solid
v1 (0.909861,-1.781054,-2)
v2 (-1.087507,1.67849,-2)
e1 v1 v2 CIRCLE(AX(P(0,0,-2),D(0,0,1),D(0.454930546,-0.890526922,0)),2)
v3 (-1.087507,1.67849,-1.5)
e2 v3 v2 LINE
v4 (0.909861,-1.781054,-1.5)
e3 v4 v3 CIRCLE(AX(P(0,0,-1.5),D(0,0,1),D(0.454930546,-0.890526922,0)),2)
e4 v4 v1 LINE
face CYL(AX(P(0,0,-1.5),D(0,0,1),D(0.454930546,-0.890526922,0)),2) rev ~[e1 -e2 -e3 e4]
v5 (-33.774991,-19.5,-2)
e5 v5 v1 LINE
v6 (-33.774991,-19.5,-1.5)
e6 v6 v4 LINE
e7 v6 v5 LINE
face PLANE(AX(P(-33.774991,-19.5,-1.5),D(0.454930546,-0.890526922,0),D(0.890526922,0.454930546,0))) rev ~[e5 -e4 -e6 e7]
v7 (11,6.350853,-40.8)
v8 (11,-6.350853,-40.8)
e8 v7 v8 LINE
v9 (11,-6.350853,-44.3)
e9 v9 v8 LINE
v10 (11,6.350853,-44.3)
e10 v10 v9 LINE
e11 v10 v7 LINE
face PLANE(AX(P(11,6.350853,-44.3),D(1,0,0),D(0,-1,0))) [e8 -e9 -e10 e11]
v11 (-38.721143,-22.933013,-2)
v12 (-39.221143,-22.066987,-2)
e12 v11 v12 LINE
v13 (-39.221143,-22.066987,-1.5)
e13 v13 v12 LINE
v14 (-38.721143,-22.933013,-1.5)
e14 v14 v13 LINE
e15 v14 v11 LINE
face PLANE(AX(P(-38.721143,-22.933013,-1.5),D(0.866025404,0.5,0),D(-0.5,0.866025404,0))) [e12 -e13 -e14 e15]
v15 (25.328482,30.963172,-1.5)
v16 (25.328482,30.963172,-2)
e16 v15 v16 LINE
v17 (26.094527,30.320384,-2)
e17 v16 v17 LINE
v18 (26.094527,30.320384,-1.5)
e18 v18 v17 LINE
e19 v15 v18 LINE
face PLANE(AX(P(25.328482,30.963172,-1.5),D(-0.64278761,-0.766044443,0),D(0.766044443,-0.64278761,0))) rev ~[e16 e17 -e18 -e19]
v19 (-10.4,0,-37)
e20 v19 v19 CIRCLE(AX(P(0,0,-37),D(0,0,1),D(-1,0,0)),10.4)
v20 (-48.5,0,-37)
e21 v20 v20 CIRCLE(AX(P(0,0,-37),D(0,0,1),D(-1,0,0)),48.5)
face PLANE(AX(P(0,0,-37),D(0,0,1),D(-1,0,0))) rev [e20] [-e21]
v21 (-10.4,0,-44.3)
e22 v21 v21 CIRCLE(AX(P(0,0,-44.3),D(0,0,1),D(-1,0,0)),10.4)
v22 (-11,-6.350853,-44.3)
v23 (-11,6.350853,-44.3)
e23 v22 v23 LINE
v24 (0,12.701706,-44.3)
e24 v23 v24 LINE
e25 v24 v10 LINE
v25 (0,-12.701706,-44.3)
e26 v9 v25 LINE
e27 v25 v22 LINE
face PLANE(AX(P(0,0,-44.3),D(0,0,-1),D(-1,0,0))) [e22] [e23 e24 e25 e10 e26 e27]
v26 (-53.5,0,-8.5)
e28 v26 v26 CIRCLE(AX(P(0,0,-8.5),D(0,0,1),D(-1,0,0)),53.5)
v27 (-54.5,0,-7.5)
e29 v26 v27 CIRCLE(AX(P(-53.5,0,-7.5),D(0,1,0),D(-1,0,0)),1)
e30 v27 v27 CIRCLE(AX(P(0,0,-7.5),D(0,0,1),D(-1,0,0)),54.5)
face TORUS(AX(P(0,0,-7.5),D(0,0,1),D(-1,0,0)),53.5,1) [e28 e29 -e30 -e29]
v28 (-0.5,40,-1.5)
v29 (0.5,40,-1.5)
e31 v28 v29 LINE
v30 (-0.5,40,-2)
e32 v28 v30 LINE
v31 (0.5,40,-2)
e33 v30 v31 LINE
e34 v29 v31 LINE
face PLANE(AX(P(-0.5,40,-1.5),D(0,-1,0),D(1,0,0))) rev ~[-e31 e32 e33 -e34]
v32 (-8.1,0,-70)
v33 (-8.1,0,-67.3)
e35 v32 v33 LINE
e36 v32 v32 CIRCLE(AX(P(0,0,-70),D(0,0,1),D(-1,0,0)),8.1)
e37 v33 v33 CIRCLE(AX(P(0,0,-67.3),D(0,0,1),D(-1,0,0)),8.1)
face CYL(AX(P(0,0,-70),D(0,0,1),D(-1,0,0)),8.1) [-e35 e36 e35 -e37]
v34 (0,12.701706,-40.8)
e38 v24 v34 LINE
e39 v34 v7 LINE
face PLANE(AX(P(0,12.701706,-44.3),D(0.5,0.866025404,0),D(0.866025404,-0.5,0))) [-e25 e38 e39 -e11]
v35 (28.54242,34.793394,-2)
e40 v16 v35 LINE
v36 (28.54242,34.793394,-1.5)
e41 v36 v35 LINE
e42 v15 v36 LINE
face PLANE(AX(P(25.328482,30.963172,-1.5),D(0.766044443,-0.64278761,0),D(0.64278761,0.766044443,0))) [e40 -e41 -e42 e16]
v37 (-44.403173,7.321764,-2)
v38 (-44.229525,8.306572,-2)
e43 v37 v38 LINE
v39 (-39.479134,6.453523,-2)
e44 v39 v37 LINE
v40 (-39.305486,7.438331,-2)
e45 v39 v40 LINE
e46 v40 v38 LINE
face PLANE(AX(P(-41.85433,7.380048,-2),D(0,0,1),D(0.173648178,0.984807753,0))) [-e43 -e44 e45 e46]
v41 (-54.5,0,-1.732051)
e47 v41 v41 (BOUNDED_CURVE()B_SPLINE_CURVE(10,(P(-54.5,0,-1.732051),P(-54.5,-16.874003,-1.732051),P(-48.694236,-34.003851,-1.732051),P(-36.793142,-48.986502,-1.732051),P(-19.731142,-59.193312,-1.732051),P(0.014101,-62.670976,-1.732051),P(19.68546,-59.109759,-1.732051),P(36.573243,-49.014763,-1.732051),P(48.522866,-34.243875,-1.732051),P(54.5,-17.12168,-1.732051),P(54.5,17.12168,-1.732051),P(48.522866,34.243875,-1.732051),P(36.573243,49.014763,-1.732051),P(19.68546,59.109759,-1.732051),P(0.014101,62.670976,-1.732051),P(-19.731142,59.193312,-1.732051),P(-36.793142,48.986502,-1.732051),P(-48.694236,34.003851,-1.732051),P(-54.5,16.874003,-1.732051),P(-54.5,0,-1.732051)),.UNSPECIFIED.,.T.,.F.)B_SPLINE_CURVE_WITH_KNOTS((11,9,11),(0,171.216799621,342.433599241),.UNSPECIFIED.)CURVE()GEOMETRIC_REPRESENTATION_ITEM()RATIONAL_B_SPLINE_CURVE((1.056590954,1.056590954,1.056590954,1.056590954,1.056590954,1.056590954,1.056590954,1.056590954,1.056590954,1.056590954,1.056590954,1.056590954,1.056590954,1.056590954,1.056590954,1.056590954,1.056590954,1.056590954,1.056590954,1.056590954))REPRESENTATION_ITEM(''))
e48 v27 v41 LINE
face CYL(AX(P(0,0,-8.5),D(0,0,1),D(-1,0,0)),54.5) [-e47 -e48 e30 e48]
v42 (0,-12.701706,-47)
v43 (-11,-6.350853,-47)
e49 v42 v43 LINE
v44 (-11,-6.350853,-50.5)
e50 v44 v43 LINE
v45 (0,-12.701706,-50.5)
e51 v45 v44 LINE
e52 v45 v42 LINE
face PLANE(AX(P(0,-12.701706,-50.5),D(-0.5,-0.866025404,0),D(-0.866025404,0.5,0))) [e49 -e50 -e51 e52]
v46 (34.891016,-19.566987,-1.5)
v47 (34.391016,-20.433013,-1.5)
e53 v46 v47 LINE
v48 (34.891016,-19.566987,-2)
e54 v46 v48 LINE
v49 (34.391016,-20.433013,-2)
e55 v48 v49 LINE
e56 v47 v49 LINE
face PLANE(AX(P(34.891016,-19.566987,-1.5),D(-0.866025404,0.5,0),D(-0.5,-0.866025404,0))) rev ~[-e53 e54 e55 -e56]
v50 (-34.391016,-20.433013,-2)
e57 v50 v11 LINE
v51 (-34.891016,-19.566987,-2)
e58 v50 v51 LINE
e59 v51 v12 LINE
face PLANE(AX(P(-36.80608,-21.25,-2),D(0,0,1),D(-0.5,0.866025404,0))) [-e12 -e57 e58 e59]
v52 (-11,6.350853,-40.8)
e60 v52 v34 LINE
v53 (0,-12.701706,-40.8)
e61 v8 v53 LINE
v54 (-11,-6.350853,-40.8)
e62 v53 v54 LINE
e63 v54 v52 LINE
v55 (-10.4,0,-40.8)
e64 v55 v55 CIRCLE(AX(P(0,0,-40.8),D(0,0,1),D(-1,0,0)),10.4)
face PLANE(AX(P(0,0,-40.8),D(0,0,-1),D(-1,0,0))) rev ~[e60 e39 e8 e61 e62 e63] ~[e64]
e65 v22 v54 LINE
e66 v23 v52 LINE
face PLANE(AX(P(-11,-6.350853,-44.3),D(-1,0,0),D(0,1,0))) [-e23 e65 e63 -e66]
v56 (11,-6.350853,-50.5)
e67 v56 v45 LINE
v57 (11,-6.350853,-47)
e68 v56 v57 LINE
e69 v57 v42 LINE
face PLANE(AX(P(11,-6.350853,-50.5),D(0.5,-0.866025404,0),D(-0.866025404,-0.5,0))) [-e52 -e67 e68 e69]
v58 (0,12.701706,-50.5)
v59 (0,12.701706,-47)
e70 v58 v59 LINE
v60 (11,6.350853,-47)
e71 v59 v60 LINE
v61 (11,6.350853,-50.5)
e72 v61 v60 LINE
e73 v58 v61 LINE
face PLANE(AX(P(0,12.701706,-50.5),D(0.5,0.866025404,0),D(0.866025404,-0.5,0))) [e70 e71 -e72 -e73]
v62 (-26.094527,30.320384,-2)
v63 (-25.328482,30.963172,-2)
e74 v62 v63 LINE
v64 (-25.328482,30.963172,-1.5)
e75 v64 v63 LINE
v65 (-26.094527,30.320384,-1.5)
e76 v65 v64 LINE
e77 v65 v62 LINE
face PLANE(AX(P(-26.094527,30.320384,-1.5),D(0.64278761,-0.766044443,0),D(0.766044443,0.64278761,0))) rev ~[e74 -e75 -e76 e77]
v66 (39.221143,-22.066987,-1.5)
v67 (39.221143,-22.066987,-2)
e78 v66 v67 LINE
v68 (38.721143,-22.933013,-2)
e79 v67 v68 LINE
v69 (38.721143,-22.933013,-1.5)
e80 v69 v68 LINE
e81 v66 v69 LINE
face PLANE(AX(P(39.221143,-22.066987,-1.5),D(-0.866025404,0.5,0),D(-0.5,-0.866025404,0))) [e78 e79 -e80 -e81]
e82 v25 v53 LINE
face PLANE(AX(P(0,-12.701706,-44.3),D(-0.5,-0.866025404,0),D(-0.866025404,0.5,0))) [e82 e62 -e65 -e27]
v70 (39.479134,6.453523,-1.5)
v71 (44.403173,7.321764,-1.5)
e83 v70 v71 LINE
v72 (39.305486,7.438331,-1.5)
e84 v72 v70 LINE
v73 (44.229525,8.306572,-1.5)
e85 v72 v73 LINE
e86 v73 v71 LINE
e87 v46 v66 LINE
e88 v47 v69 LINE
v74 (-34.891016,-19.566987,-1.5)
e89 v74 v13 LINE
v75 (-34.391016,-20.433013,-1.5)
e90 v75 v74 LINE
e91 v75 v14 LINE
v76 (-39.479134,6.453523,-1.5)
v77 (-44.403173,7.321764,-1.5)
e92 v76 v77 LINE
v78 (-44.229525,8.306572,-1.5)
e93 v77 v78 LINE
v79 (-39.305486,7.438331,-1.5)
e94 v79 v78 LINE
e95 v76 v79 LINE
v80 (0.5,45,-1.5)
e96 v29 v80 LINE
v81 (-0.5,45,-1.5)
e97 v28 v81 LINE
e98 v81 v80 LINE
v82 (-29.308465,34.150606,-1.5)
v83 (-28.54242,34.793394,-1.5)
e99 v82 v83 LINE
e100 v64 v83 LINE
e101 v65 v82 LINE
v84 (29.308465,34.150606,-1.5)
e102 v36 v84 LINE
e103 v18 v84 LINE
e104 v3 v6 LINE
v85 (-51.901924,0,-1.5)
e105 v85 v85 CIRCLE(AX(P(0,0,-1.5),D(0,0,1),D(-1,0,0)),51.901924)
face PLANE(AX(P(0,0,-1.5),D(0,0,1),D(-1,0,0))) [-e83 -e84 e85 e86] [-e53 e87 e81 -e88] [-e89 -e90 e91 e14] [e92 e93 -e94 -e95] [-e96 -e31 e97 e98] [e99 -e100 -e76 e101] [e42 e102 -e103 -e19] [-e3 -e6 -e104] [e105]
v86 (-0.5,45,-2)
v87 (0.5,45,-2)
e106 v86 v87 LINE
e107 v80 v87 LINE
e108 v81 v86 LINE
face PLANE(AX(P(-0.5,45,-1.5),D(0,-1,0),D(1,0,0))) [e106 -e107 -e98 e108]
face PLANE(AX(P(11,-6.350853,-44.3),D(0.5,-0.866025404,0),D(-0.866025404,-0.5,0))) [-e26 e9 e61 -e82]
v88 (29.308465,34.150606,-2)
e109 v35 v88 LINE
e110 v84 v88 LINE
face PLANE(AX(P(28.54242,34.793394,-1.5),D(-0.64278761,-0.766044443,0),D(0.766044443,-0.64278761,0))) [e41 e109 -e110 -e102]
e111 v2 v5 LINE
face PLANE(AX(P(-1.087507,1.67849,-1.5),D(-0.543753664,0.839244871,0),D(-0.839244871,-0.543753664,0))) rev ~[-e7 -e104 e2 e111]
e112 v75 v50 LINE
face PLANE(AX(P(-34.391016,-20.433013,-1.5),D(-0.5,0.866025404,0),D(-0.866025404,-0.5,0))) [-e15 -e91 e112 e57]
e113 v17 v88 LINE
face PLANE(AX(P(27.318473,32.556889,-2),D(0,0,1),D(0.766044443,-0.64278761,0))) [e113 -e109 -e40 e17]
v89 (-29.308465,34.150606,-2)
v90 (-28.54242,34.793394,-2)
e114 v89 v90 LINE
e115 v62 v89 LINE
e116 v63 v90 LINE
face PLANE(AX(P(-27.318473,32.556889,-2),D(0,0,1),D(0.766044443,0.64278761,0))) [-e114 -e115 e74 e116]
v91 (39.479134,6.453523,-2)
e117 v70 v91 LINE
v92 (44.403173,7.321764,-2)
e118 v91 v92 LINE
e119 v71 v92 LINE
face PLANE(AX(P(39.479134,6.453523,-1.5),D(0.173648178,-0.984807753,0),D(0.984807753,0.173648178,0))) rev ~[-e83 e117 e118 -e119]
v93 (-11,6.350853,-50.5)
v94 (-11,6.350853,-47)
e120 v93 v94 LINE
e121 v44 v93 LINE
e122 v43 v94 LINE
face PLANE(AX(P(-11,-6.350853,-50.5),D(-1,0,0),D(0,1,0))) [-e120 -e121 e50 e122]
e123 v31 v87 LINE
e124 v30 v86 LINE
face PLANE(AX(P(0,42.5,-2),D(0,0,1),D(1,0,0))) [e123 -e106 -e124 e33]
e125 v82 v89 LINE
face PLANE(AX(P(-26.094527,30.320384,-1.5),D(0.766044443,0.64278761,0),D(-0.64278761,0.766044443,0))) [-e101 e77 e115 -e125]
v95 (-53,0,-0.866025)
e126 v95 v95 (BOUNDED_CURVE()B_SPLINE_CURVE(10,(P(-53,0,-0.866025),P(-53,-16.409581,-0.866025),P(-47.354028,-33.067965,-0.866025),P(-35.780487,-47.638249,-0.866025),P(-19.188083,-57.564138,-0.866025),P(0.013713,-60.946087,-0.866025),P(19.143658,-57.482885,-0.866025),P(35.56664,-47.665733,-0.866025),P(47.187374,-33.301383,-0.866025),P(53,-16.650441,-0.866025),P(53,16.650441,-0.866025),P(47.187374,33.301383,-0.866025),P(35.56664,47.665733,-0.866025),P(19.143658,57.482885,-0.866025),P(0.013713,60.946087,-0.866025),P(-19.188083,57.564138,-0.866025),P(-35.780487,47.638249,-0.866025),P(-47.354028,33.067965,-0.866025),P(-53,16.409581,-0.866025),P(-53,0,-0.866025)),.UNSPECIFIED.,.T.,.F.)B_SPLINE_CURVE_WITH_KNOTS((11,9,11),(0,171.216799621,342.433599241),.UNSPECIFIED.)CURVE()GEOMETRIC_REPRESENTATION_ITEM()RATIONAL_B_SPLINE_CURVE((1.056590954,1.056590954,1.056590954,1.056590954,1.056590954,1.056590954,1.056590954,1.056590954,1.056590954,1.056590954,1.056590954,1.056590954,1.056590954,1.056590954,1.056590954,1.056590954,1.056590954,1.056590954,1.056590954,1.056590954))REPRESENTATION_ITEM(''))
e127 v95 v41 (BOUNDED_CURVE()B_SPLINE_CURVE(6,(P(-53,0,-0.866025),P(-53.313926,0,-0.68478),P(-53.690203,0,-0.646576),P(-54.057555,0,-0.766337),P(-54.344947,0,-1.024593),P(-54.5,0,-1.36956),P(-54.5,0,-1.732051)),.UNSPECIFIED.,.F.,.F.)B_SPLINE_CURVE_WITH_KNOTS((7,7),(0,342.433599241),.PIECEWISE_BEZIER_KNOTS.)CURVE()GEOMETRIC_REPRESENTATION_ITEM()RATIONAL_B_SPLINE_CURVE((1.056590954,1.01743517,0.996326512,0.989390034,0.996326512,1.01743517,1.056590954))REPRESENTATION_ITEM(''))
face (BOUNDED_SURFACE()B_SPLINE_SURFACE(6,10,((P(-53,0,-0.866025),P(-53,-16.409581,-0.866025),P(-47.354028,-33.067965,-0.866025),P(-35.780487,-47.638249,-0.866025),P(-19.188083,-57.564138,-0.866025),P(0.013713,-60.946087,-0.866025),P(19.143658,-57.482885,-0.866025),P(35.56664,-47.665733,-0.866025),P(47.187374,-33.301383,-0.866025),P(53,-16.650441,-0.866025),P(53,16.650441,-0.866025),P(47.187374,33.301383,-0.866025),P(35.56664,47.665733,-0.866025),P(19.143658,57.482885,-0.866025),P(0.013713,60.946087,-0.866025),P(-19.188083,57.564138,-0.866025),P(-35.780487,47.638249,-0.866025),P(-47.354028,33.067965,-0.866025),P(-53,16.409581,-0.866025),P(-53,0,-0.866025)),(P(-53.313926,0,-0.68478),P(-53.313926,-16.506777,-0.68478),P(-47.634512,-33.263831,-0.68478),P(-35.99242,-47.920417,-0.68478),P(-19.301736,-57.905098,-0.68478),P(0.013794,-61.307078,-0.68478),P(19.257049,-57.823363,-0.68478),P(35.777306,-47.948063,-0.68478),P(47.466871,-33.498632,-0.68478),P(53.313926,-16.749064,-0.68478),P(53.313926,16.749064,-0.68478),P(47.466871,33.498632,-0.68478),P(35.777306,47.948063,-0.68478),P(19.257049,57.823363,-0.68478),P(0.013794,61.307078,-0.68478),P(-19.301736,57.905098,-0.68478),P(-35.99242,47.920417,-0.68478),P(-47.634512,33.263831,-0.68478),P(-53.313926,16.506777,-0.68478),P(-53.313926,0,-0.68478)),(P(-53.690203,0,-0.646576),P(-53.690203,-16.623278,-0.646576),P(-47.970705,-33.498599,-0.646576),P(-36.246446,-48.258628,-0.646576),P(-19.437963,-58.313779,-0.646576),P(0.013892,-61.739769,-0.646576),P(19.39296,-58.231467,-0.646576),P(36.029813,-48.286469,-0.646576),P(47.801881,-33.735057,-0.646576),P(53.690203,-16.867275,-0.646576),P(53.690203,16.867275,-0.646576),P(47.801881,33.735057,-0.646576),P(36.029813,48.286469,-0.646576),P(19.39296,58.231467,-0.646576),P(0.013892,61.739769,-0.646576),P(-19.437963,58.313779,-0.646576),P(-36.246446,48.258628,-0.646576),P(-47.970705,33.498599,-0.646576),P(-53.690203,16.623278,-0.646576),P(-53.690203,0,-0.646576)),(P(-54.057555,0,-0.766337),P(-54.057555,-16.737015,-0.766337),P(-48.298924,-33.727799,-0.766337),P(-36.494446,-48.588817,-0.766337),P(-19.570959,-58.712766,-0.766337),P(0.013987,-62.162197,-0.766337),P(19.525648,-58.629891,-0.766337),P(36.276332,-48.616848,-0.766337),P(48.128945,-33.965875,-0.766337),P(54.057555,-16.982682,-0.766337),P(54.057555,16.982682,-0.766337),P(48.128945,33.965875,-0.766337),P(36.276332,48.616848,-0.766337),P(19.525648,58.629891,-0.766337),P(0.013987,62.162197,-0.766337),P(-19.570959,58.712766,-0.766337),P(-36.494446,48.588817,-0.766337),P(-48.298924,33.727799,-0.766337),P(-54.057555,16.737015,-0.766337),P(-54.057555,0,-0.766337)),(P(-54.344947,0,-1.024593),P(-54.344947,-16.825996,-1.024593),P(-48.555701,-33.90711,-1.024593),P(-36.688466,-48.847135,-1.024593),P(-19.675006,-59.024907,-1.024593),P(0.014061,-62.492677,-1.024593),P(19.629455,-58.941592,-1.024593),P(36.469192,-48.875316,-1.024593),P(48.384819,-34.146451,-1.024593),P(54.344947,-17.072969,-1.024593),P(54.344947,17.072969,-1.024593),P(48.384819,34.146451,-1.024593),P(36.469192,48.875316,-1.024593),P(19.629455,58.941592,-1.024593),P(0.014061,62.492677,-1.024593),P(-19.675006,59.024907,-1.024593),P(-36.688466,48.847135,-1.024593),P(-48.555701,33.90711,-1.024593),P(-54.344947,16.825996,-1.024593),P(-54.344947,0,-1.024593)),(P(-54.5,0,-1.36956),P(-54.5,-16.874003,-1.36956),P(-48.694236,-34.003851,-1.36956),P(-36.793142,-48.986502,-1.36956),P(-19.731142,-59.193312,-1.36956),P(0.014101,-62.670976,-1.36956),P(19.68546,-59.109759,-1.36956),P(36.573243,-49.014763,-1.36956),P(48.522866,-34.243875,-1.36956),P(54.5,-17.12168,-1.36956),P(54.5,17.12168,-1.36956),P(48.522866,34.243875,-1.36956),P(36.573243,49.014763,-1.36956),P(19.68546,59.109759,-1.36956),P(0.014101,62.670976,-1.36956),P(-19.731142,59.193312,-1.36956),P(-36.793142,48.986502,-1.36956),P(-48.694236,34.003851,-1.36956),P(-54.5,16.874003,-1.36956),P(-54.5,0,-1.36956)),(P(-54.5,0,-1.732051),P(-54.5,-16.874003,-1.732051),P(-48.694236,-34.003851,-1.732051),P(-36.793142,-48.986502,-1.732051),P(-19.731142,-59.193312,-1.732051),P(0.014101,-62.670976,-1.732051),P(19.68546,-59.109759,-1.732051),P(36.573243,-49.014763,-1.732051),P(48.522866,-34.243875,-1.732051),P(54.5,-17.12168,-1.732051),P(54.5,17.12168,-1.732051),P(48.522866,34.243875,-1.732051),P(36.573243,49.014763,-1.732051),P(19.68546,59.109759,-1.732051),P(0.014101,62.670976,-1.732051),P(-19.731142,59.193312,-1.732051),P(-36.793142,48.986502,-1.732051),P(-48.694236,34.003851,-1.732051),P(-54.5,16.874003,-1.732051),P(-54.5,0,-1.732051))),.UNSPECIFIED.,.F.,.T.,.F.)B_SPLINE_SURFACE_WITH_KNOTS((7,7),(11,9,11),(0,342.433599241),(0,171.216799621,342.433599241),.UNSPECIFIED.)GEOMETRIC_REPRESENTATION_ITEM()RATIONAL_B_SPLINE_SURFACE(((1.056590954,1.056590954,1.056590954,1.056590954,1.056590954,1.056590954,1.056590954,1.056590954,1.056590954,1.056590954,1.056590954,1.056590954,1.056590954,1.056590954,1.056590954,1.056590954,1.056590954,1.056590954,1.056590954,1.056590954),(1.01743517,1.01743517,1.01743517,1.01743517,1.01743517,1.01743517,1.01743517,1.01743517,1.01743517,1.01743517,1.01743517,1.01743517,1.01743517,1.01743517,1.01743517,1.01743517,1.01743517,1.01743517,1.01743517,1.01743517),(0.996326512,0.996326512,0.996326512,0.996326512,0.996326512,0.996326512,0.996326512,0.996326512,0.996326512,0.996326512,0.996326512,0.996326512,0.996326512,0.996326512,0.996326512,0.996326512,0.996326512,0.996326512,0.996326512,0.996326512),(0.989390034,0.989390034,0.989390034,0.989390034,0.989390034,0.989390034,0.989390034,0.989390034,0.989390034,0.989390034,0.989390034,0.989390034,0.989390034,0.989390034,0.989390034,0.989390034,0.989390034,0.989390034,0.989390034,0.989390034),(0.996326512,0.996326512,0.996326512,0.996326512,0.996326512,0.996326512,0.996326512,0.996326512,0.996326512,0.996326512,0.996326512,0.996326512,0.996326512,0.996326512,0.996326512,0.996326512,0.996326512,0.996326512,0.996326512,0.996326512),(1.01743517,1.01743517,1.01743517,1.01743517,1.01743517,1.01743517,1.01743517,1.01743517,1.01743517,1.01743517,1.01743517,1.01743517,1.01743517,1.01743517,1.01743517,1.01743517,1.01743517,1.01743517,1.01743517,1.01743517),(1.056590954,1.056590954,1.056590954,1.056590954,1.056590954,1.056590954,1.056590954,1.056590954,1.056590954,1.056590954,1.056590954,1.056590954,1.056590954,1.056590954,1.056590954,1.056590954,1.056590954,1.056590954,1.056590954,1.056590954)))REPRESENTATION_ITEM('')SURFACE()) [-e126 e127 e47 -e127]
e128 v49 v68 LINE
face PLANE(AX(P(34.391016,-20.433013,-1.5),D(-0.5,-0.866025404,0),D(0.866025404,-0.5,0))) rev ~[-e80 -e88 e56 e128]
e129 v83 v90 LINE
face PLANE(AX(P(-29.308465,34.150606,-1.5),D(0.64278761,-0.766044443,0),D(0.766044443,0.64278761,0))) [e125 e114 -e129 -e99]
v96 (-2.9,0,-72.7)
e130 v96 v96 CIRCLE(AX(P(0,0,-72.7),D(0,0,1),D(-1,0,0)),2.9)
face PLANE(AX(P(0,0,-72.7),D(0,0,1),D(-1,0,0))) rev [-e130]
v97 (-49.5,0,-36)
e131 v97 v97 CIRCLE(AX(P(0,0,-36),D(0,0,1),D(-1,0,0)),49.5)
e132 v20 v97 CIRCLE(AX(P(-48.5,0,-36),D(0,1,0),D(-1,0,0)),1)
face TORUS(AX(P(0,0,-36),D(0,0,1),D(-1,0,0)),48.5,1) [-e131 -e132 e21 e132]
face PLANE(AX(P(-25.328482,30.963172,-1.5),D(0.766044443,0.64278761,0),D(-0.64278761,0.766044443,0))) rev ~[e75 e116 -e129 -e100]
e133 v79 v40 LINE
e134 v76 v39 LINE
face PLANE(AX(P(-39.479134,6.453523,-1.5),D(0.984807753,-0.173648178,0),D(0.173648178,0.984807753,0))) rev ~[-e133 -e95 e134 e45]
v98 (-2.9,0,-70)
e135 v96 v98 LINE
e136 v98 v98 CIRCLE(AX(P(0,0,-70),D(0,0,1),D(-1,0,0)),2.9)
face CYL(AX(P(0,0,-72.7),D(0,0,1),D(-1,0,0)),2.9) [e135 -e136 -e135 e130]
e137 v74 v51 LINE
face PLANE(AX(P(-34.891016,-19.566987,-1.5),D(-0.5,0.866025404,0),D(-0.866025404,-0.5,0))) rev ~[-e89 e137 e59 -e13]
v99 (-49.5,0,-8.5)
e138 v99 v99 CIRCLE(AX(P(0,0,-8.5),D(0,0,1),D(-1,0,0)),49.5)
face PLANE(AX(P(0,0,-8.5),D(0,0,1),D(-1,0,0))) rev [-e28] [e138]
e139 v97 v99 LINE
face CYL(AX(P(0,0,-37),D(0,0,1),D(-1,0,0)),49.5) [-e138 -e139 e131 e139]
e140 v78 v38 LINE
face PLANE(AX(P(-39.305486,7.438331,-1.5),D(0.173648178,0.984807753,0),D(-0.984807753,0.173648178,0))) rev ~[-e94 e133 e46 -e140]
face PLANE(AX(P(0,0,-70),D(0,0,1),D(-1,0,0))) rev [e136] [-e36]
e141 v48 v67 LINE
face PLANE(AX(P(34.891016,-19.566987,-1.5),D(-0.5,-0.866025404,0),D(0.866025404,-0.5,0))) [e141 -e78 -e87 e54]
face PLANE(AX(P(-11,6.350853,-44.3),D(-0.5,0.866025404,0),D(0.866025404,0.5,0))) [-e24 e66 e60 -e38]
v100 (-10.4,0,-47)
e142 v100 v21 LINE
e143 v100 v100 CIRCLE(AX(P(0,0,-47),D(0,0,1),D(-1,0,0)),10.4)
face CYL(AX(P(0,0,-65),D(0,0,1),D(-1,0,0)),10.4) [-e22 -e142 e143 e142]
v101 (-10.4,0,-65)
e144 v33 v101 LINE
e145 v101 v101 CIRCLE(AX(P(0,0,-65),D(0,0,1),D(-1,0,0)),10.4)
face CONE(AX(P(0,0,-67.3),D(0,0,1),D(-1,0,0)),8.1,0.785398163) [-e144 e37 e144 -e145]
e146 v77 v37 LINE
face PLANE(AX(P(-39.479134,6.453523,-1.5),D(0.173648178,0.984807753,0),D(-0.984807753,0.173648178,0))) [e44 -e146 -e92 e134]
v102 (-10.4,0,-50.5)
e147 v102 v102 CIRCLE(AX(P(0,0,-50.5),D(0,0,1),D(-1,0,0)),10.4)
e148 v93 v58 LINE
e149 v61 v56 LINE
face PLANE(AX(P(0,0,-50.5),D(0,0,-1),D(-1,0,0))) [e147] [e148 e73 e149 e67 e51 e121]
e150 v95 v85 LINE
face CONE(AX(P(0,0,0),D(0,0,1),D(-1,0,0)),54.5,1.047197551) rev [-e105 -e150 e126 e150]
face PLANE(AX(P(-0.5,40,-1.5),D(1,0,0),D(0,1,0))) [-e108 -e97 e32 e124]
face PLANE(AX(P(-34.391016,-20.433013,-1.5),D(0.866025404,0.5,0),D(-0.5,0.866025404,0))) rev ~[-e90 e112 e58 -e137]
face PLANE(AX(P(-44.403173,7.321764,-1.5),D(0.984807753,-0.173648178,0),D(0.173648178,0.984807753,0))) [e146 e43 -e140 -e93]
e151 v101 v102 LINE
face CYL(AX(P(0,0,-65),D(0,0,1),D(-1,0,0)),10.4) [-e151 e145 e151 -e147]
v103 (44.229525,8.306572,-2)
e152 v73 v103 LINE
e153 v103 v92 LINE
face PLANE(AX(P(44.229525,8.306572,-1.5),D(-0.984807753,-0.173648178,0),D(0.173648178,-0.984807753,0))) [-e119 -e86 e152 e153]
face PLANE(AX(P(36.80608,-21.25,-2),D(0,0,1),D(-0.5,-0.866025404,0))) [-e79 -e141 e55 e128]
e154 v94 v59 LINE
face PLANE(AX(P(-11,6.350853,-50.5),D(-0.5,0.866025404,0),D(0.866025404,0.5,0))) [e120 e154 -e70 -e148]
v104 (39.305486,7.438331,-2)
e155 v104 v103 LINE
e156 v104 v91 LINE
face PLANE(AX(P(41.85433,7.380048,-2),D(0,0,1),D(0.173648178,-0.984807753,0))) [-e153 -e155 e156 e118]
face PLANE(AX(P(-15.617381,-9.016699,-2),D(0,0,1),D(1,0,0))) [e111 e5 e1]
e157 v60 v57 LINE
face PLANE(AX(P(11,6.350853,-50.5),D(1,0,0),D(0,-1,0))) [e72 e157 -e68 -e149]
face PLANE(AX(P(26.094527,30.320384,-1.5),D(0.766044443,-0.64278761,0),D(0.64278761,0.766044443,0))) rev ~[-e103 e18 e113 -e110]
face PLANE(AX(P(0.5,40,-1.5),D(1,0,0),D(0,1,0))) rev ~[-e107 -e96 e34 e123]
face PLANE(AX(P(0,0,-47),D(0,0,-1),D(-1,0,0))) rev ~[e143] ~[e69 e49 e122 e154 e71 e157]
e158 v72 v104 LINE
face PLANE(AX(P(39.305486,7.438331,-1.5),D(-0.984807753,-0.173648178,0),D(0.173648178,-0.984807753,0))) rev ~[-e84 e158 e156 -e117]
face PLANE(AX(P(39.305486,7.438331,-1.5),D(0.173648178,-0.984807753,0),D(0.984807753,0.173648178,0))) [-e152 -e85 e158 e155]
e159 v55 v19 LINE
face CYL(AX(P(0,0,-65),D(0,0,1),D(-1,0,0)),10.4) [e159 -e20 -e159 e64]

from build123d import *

# Parameters (mm, degrees)
ZAOBLIT1_R               = 1
SKICA2_W                 = 1
SKICA2_H                 = 5
ODEBRAT_VYSUNUT_M1_DEPTH = 0.5
KRUHOV_POLE1_COUNT       = 9
ODEBRAT_VYSUNUT_M2_DEPTH = 0.5
P_IDAT_START             = 13.5
P_IDAT_VYSUNUT_M1_DEPTH  = 3.5
LINPOLE1_COUNT           = 2
LINPOLE1_PITCH           = 6.2


with BuildPart() as part:
    # Skica1 → Rotovat1 (revolve)
    with BuildSketch(Plane(origin=(0, 0, 0), x_dir=(0, 0, -1), z_dir=(1, 0, 0)), mode=Mode.PRIVATE) as rotovat1_sk:
        Polygon((0, 54.5), (1.5, 51.901923789), (1.5, 0), (72.7, 0), (72.7, 2.9), (70, 2.9), (70, 8.1), (67.3, 8.1), (65, 10.4), (37, 10.4), (37, 49.5), (8.5, 49.5), (8.5, 54.5), align=None)
    revolve(rotovat1_sk.sketch.rotate(Axis((0, 0, 0), (0, 0, 1)), 90), axis=Axis((0, 0, 0), (0, 0, 1)))  # turned: the seam where the file's is

    # Zaoblit1
    zaoblit1_edges = [part.edges().sort_by_distance(p)[0] for p in [
        (49.5, 0, -37),
        (54.5, 0, -8.5),
        (54.5, 0, 0),
    ]]
    fillet(zaoblit1_edges, radius=ZAOBLIT1_R)

    # Skica2 → Odebrat vysunutím1 (cut)
    with BuildSketch(Plane.XY.offset(-1.5)):
        with Locations((0, 42.5)):
            Rectangle(SKICA2_W, SKICA2_H)
    odebrat_vysunut_m1 = extrude(amount=-ODEBRAT_VYSUNUT_M1_DEPTH, mode=Mode.SUBTRACT)

    # Kruhové pole1: Odebrat vysunutím1 ×9 about axis, 2 skipped
    kruhov_pole1_axis = Axis((0, 0, 0), (0, 0, -1))
    add([odebrat_vysunut_m1.rotate(kruhov_pole1_axis, i * 360 / KRUHOV_POLE1_COUNT) for i in range(1, KRUHOV_POLE1_COUNT) if i not in (4, 5)], mode=Mode.SUBTRACT)

    # Skica3 → Odebrat vysunutím2 (cut)
    with BuildSketch(Plane.XY.offset(-1.5)):
        with BuildLine():
            Line((-1.087507328, 1.678489741), (-33.774990748, -19.5))
            Line((-33.774990748, -19.5), (0.909861092, -1.781053844))
            ThreePointArc((0.909861092, -1.781053844), (1.732050808, 1), (-1.087507328, 1.678489741))
        make_face()
    extrude(amount=-ODEBRAT_VYSUNUT_M2_DEPTH, mode=Mode.SUBTRACT)

    # Skica4 → Přidat vysunutím1 (add)
    with BuildSketch(Plane(origin=(0, 0, -37), x_dir=(-1, 0, 0), z_dir=(0, 0, -1)).offset(P_IDAT_START)):
        Polygon((0, 12.701705922), (-11, 6.350852961), (-11, -6.350852961), (0, -12.701705922), (11, -6.350852961), (11, 6.350852961), align=None)
    p_idat_vysunut_m1 = extrude(amount=-P_IDAT_VYSUNUT_M1_DEPTH)

    # LinPole1: Přidat vysunutím1 ×2
    with Locations(*[(0, 0, i * LINPOLE1_PITCH) for i in range(1, LINPOLE1_COUNT)]):
        add(p_idat_vysunut_m1)


solid = part.part
